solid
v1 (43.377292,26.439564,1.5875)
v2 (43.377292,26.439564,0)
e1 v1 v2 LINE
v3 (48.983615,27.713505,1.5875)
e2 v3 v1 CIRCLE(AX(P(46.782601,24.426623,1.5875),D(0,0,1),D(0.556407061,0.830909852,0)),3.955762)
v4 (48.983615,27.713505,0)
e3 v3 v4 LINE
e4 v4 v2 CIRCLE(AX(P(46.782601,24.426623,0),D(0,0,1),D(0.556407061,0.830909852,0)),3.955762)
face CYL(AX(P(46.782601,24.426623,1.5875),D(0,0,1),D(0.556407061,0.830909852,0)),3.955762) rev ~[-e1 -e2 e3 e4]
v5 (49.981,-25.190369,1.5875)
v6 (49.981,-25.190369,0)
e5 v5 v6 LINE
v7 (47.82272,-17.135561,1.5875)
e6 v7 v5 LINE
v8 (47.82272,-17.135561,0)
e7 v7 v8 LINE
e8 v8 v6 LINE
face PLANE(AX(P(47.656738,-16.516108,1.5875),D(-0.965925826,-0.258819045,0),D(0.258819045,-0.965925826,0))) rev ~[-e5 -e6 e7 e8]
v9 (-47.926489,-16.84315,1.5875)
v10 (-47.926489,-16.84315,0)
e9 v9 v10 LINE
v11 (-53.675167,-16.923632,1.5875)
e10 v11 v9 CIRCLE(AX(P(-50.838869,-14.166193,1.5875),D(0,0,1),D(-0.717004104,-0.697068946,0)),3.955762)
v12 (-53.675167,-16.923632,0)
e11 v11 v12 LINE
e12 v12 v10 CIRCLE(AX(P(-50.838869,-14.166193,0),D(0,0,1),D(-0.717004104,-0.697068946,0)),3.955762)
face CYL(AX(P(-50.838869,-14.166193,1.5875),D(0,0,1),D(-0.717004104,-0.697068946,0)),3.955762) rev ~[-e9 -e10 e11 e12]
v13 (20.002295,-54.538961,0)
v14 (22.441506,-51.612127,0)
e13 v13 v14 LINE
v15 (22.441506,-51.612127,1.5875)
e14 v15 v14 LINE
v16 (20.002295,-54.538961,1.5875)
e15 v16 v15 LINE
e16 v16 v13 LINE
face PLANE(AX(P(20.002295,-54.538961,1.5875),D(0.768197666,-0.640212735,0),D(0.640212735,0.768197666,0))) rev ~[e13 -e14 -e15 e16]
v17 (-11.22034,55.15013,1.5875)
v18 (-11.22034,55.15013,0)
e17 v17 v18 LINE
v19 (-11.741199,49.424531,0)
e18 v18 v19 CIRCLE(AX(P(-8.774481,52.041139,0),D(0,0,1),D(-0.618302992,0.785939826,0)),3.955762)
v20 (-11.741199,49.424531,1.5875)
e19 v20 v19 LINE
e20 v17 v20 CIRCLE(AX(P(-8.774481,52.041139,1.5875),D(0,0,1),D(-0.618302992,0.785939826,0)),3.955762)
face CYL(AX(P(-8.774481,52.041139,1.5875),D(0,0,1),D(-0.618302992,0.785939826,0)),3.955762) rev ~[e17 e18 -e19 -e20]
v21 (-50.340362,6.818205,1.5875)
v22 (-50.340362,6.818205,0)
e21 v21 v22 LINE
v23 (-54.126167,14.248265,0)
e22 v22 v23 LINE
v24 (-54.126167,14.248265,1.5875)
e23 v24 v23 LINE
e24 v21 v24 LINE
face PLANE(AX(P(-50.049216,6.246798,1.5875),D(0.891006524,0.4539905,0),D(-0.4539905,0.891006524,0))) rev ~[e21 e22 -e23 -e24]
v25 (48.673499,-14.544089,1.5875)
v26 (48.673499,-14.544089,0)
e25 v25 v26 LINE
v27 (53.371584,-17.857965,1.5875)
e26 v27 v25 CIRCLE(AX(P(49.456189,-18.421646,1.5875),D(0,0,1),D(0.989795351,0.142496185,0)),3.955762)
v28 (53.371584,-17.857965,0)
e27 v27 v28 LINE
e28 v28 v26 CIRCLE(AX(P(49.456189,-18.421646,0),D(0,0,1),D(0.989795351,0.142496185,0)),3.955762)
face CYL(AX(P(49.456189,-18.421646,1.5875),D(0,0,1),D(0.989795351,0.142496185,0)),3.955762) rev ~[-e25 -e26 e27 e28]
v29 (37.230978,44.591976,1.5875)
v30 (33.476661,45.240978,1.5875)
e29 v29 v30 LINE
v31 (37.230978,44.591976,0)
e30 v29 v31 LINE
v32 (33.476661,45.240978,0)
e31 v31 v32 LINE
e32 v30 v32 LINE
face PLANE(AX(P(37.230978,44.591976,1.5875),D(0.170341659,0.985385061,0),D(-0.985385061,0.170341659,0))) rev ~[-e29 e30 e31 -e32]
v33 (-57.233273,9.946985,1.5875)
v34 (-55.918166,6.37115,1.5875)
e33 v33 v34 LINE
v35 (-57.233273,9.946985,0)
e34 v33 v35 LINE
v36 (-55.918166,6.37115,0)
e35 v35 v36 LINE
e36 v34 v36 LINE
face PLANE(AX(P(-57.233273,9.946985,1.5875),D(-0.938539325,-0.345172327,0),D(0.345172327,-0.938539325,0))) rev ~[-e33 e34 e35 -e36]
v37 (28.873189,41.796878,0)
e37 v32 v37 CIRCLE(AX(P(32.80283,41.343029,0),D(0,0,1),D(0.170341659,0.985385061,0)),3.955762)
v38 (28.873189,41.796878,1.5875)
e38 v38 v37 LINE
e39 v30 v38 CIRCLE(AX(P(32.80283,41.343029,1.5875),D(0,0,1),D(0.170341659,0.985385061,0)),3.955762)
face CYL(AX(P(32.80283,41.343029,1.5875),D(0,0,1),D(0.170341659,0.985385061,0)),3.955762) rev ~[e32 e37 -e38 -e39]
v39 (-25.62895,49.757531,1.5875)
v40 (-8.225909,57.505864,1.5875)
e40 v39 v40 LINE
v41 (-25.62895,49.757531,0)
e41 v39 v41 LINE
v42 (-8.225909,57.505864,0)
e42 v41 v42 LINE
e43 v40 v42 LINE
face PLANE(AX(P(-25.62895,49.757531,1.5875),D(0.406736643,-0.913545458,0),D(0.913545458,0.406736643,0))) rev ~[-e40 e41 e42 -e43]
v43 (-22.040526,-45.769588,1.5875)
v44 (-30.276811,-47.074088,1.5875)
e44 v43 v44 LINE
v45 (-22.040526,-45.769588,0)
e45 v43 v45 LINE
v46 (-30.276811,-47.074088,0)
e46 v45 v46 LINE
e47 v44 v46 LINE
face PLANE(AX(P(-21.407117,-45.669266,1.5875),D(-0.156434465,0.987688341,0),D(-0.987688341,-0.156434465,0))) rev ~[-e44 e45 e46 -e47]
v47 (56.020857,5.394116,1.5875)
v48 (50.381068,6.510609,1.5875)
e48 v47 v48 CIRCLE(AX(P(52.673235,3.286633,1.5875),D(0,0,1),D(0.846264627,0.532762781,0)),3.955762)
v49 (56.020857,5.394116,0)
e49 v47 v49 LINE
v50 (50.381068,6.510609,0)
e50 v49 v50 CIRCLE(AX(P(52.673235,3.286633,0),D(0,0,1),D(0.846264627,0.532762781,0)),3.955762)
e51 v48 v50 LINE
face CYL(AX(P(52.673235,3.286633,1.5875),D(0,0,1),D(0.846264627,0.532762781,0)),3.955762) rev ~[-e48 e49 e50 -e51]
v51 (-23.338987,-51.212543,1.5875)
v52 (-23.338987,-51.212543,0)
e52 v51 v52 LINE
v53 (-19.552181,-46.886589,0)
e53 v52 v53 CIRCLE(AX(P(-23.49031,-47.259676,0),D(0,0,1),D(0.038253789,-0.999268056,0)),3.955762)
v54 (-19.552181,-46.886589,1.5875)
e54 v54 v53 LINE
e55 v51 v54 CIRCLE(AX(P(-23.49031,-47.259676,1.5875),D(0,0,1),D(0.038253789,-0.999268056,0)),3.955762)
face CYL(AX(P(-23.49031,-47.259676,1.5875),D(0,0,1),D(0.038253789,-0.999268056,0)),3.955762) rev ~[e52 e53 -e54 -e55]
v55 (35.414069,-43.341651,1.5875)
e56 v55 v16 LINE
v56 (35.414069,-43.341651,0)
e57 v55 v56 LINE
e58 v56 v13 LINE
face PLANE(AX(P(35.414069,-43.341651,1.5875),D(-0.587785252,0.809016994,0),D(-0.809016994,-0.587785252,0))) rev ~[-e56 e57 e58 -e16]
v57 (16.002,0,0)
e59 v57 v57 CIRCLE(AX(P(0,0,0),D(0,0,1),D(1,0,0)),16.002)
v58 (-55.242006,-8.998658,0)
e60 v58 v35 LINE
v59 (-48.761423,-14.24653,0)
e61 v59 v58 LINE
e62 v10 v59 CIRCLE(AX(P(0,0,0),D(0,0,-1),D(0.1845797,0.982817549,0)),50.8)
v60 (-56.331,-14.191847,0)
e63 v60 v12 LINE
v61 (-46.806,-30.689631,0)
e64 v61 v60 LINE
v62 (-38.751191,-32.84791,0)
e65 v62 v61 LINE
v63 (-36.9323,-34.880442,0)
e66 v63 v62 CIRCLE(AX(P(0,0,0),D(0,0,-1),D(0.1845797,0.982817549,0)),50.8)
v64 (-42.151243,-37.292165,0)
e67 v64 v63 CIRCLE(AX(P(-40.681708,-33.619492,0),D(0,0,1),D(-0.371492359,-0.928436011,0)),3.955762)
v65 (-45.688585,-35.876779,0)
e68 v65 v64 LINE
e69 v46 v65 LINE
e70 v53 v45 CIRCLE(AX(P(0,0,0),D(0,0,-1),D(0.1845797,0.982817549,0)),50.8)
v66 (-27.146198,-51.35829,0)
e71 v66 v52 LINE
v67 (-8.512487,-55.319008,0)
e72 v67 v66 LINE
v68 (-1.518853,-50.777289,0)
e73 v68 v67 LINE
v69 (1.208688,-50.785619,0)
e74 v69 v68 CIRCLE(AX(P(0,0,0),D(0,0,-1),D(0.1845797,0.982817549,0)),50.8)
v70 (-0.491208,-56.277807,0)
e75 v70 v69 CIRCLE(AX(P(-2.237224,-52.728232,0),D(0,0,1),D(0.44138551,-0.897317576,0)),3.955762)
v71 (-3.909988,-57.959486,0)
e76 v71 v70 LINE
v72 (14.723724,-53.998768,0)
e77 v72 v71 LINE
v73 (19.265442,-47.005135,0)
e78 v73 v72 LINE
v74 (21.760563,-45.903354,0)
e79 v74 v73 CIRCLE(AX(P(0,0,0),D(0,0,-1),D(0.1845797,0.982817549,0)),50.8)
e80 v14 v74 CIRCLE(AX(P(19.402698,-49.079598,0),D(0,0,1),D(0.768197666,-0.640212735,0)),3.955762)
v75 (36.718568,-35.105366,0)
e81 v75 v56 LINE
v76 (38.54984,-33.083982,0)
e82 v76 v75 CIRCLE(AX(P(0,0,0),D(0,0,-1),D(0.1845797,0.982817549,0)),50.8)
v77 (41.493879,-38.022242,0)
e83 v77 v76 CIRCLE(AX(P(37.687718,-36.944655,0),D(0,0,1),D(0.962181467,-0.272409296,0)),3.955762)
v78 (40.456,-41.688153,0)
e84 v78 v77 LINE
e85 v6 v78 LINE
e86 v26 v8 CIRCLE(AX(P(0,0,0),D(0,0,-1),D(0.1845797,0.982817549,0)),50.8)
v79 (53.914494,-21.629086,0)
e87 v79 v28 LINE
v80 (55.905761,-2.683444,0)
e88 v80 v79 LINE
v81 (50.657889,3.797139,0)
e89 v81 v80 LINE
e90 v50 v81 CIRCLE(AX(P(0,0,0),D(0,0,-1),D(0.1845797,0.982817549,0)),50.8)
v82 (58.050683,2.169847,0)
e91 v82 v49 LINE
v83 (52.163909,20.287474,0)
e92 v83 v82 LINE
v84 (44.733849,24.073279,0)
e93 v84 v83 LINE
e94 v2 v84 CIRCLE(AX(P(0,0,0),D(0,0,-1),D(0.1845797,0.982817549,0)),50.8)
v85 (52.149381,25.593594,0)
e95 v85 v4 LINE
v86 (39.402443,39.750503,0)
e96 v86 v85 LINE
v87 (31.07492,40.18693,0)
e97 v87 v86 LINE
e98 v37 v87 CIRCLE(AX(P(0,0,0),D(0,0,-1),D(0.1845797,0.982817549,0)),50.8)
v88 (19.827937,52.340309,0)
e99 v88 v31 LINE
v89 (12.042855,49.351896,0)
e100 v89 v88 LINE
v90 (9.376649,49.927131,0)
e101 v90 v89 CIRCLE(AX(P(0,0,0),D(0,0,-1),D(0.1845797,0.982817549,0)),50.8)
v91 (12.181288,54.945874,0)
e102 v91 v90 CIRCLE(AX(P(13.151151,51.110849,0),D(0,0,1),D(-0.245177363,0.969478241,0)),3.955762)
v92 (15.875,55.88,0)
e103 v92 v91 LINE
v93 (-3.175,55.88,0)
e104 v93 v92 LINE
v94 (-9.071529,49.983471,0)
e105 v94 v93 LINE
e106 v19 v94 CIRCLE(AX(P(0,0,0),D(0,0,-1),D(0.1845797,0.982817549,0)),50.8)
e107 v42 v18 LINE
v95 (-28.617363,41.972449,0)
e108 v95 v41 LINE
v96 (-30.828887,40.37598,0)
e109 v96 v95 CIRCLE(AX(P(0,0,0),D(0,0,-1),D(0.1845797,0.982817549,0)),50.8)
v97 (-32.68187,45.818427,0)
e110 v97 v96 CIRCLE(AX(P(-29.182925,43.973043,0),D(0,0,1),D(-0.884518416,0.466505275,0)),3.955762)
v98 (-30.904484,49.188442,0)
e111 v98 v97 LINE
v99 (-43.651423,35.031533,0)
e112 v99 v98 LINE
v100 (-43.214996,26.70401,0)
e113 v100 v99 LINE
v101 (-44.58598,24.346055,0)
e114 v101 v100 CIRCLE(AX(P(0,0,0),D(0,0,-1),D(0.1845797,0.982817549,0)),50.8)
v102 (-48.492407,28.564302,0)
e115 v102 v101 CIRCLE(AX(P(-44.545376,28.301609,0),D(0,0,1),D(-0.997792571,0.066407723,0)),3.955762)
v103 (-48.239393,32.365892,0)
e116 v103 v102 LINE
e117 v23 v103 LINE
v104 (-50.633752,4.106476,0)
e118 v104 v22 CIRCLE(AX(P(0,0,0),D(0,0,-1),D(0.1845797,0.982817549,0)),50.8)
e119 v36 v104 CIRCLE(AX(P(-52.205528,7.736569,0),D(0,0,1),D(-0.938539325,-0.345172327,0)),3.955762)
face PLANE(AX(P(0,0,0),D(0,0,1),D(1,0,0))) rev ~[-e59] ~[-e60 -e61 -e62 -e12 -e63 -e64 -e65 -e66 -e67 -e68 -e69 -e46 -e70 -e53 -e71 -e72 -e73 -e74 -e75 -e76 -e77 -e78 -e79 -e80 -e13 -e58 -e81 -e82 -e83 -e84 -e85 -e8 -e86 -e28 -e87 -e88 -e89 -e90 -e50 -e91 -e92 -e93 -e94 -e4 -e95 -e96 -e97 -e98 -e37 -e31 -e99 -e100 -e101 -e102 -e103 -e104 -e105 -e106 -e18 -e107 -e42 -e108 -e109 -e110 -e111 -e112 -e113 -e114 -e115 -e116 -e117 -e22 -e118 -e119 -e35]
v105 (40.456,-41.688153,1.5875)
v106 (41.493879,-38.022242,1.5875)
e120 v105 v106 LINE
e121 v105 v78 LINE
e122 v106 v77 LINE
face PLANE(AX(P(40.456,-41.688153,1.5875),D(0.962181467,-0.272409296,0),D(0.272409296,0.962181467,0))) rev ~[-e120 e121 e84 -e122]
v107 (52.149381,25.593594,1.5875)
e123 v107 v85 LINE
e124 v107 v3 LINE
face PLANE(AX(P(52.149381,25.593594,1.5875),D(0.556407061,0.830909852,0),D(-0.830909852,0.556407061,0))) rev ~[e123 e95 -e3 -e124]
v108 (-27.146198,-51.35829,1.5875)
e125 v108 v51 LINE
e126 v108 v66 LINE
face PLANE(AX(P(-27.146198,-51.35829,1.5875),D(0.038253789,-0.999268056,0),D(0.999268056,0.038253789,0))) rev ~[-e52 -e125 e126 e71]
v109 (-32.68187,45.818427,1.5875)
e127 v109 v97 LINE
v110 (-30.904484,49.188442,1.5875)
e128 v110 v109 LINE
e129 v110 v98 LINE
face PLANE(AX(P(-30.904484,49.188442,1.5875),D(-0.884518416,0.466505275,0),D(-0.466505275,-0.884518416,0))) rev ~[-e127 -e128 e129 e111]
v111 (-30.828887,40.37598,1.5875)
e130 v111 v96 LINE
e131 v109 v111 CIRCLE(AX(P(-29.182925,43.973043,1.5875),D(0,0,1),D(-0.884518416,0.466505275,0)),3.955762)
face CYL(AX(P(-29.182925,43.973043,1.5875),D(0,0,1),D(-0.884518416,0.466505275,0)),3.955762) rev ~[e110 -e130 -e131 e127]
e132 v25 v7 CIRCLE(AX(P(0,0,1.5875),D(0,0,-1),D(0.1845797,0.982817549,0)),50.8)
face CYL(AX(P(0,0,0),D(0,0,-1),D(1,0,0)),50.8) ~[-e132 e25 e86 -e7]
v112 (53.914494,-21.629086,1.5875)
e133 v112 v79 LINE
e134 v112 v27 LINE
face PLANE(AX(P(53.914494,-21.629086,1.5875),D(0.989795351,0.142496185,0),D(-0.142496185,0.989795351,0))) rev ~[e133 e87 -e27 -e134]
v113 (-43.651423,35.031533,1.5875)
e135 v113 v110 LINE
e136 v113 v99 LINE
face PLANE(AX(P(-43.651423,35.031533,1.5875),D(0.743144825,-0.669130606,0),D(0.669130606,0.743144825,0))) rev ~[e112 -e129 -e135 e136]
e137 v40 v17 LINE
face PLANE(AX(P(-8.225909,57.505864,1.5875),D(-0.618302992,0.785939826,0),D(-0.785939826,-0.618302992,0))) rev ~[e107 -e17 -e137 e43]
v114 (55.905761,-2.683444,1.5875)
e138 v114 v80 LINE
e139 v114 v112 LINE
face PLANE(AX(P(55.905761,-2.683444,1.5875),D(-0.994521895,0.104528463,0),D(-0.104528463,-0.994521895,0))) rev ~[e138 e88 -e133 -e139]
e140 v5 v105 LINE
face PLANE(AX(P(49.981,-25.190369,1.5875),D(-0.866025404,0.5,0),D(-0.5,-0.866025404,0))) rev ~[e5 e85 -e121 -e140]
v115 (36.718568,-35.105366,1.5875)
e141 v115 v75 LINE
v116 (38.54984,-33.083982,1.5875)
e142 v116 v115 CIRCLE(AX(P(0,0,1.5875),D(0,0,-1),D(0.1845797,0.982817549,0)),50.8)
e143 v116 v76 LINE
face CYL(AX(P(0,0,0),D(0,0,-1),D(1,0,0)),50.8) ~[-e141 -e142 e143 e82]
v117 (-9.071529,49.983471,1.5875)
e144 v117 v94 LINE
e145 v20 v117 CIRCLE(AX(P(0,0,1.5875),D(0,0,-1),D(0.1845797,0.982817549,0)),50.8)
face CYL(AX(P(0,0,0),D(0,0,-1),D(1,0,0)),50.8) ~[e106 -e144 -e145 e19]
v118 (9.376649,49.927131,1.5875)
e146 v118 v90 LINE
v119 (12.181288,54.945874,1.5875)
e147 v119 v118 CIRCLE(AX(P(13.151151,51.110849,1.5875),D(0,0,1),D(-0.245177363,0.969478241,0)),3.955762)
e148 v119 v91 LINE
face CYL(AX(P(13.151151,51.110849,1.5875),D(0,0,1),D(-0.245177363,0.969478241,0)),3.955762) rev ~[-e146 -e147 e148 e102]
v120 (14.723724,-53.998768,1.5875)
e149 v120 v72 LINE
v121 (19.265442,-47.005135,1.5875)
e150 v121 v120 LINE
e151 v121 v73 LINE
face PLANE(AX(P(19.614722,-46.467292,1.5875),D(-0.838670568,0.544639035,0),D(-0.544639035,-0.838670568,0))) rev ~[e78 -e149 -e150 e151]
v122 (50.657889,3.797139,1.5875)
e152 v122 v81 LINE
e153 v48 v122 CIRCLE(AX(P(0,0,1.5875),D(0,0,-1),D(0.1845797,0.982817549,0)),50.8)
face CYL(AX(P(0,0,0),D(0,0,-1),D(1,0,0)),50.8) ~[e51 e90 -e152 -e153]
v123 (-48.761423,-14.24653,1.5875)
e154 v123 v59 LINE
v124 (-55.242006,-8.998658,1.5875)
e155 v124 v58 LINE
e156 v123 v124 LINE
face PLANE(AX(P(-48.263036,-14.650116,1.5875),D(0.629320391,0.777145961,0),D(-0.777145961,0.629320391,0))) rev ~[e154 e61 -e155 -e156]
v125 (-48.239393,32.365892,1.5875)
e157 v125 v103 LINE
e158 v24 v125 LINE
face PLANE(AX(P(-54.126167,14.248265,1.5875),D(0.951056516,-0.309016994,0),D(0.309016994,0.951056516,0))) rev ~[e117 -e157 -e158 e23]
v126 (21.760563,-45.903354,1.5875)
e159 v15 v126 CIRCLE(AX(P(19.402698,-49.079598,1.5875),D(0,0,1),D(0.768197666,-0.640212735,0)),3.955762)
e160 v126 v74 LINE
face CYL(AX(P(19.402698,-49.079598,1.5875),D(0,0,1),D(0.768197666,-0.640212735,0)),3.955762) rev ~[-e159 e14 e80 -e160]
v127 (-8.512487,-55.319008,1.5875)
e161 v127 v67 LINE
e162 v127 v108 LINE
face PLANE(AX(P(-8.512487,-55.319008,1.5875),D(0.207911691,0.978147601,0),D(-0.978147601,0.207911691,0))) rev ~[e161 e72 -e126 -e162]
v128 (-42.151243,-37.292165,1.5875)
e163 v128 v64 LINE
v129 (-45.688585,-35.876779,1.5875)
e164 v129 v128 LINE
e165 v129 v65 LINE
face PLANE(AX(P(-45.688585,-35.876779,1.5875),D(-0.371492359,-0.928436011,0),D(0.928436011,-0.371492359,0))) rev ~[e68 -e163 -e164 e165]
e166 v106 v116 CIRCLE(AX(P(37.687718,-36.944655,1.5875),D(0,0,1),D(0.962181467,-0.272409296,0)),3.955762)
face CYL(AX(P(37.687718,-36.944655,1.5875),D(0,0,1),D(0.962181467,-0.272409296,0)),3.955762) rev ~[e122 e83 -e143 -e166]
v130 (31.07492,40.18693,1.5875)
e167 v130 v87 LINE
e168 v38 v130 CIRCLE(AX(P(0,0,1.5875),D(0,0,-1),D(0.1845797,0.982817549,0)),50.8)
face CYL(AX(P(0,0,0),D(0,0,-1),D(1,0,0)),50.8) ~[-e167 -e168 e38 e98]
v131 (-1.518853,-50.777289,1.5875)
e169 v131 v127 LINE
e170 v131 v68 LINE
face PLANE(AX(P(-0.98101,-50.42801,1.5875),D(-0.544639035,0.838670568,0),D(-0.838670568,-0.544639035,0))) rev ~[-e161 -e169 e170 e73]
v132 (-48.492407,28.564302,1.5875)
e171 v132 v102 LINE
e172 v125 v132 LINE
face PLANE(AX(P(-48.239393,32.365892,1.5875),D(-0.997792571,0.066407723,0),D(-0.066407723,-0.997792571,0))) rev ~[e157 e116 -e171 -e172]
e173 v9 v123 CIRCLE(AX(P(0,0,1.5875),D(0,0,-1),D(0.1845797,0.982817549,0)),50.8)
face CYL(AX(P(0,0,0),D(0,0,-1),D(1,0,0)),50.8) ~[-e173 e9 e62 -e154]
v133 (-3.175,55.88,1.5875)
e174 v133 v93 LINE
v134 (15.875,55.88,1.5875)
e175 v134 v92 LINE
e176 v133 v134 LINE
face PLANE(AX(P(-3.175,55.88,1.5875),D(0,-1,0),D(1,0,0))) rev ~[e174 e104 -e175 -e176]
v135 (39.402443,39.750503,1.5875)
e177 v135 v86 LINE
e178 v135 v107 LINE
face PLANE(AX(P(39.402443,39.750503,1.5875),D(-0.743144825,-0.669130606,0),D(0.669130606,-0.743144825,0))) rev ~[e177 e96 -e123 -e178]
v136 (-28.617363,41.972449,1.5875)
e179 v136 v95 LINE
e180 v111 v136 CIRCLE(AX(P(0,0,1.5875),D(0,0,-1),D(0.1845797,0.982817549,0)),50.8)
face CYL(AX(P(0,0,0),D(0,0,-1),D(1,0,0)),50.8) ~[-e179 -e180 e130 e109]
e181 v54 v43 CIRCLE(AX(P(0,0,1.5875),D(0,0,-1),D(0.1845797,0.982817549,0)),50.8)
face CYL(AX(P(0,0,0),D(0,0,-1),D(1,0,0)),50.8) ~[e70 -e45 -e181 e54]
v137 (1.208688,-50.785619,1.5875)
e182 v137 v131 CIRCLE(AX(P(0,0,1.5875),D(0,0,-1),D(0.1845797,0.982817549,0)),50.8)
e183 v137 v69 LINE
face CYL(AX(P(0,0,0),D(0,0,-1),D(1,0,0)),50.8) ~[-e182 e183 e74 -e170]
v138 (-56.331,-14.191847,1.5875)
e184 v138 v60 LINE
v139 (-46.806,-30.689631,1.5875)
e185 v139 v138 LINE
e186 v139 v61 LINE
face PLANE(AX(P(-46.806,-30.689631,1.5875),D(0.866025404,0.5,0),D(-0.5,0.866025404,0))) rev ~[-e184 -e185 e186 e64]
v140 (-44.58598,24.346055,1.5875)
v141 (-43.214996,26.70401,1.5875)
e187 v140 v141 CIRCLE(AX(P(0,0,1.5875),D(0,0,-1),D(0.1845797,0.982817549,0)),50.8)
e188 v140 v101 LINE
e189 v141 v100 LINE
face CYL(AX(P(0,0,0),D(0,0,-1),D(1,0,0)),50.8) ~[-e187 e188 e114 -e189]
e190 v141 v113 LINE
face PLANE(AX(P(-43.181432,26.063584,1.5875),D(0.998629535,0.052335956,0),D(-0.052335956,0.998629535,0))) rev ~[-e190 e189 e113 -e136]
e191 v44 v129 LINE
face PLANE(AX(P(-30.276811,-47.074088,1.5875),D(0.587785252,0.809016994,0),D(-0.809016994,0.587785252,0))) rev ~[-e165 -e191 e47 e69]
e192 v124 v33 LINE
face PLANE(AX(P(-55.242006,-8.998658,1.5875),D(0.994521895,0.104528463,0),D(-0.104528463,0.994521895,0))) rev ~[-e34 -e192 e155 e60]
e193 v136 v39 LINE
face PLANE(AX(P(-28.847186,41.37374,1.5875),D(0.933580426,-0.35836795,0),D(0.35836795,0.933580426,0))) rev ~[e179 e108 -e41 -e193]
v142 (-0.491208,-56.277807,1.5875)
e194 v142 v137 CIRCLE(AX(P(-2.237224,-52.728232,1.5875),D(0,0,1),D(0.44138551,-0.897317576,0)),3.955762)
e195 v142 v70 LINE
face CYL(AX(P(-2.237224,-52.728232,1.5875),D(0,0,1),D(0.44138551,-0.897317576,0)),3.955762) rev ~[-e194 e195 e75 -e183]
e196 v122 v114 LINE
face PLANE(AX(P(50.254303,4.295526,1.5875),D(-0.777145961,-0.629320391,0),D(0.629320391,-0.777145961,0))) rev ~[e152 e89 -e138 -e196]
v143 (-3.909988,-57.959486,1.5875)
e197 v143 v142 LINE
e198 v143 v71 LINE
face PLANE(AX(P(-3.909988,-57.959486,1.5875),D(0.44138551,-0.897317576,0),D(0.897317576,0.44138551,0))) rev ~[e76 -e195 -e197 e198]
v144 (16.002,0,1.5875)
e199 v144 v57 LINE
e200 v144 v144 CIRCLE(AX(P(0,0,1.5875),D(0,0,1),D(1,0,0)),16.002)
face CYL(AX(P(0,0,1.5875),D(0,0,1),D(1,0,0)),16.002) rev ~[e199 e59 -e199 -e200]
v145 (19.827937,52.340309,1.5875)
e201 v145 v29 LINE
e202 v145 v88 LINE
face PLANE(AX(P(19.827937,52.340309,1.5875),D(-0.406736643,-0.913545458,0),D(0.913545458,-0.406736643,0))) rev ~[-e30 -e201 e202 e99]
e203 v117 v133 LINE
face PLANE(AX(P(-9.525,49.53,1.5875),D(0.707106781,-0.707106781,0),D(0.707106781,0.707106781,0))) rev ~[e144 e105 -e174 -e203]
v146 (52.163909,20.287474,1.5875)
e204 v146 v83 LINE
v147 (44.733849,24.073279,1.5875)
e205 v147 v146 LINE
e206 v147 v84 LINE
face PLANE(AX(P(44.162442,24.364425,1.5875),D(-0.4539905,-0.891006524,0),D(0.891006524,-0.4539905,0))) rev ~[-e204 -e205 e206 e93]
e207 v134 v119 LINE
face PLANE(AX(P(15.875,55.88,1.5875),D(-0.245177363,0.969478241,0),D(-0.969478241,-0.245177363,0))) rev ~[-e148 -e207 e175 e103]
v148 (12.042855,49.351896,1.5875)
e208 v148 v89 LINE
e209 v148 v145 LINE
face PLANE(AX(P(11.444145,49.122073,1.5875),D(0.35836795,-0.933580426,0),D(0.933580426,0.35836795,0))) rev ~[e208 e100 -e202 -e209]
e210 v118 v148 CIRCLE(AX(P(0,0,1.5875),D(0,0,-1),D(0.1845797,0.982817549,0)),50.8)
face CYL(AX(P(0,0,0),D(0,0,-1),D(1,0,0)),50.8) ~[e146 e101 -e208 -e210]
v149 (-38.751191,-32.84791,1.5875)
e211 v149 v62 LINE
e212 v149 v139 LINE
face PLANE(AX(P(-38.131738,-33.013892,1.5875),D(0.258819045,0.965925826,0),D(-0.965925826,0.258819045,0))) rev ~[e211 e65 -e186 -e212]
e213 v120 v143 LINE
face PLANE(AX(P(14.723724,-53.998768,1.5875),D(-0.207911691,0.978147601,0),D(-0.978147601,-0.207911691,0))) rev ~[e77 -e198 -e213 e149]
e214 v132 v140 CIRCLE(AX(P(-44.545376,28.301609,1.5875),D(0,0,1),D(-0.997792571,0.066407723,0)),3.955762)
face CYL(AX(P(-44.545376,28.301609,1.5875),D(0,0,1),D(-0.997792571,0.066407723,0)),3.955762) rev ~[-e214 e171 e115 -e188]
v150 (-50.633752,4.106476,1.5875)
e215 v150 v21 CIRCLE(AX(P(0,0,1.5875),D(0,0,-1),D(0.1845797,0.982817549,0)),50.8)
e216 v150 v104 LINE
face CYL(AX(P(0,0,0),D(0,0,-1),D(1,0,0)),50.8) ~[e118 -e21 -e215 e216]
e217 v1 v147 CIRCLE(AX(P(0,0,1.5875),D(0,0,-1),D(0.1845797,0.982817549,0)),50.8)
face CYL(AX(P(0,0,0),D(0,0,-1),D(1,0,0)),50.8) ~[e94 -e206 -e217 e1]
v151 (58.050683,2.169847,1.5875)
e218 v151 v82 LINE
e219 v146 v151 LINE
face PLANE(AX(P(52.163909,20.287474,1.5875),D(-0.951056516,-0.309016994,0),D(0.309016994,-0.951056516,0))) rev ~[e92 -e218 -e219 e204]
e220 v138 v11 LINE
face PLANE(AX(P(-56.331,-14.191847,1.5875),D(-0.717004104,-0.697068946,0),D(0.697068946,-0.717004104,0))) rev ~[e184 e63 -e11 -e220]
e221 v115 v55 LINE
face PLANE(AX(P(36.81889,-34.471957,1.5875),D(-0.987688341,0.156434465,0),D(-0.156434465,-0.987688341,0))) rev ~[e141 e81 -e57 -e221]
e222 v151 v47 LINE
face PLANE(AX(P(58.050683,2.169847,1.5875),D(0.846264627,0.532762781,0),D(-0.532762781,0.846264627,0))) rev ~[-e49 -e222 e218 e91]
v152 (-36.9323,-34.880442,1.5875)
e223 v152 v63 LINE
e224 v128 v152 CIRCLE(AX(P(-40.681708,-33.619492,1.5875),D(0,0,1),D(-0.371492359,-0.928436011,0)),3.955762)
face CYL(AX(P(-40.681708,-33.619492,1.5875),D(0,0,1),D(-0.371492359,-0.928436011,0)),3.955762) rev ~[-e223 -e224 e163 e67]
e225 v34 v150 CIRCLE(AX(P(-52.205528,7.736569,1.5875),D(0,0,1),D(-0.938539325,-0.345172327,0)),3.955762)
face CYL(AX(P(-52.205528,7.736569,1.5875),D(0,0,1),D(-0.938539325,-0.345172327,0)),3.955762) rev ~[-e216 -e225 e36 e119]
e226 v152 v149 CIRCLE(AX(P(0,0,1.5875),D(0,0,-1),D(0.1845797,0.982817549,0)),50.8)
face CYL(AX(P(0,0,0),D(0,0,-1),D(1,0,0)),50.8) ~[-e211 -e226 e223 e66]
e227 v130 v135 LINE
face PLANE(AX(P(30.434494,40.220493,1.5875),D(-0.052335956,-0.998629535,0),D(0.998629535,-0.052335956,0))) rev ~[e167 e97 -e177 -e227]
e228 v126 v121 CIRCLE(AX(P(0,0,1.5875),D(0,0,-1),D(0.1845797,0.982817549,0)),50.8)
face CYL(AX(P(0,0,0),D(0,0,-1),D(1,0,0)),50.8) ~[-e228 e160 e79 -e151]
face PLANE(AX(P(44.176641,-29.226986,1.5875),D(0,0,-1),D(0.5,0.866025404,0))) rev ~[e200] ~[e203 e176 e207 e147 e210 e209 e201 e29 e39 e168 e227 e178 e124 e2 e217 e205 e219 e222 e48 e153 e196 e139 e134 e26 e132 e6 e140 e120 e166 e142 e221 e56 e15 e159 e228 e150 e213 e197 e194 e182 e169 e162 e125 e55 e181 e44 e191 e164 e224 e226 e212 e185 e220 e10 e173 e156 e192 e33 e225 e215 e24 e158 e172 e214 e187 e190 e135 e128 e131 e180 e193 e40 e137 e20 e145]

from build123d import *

# Parameters (mm, degrees)
SKETCH1_R           = 50.8
BOSS_EXTRUDE1_DEPTH = 1.5875
CUT_EXTRUDE1_REACH  = 73.86
SKETCH2_R           = 16.002
BOSS_EXTRUDE2_DEPTH = 1.5875
CIRPATTERN1_COUNT   = 15


with BuildPart() as part:
    # Sketch1 → Boss-Extrude1 (new body)
    with BuildSketch(Plane.XY):
        Circle(SKETCH1_R)
    extrude(amount=BOSS_EXTRUDE1_DEPTH)

    # Sketch2 → Cut-Extrude1 (cut, up to next)
    with BuildSketch(Plane.XY.offset(1.5875), mode=Mode.PRIVATE) as cut_extrude1_sk1:
        Circle(SKETCH2_R)
    cut_extrude1_tool1 = extrude(cut_extrude1_sk1.sketch, amount=-CUT_EXTRUDE1_REACH, mode=Mode.PRIVATE) & part.part
    add(cut_extrude1_tool1.solids().sort_by_distance((0, 0, 1.5875))[0], mode=Mode.SUBTRACT)

    # Sketch4 → Boss-Extrude2 (add)
    with BuildSketch(Plane.XY.offset(1.5875)):
        with BuildLine():
            Line((-9.525, 49.53), (-3.175, 55.88))
            Line((-3.175, 55.88), (15.875, 55.88))
            Line((15.875, 55.88), (12.1812879, 54.945874246))
            ThreePointArc((12.1812879, 54.945874246), (9.599565558, 52.852771398), (9.525, 49.53))
            Line((9.525, 49.53), (-9.525, 49.53))
        make_face()
    boss_extrude2 = extrude(amount=-BOSS_EXTRUDE2_DEPTH)

    # CirPattern1: Boss-Extrude2 ×15 about axis
    cirpattern1_axis = Axis((0, 0, 0), (0, 0, 1))
    for i in range(1, CIRPATTERN1_COUNT):
        add(boss_extrude2.rotate(cirpattern1_axis, i * 360 / CIRPATTERN1_COUNT))


solid = part.part
